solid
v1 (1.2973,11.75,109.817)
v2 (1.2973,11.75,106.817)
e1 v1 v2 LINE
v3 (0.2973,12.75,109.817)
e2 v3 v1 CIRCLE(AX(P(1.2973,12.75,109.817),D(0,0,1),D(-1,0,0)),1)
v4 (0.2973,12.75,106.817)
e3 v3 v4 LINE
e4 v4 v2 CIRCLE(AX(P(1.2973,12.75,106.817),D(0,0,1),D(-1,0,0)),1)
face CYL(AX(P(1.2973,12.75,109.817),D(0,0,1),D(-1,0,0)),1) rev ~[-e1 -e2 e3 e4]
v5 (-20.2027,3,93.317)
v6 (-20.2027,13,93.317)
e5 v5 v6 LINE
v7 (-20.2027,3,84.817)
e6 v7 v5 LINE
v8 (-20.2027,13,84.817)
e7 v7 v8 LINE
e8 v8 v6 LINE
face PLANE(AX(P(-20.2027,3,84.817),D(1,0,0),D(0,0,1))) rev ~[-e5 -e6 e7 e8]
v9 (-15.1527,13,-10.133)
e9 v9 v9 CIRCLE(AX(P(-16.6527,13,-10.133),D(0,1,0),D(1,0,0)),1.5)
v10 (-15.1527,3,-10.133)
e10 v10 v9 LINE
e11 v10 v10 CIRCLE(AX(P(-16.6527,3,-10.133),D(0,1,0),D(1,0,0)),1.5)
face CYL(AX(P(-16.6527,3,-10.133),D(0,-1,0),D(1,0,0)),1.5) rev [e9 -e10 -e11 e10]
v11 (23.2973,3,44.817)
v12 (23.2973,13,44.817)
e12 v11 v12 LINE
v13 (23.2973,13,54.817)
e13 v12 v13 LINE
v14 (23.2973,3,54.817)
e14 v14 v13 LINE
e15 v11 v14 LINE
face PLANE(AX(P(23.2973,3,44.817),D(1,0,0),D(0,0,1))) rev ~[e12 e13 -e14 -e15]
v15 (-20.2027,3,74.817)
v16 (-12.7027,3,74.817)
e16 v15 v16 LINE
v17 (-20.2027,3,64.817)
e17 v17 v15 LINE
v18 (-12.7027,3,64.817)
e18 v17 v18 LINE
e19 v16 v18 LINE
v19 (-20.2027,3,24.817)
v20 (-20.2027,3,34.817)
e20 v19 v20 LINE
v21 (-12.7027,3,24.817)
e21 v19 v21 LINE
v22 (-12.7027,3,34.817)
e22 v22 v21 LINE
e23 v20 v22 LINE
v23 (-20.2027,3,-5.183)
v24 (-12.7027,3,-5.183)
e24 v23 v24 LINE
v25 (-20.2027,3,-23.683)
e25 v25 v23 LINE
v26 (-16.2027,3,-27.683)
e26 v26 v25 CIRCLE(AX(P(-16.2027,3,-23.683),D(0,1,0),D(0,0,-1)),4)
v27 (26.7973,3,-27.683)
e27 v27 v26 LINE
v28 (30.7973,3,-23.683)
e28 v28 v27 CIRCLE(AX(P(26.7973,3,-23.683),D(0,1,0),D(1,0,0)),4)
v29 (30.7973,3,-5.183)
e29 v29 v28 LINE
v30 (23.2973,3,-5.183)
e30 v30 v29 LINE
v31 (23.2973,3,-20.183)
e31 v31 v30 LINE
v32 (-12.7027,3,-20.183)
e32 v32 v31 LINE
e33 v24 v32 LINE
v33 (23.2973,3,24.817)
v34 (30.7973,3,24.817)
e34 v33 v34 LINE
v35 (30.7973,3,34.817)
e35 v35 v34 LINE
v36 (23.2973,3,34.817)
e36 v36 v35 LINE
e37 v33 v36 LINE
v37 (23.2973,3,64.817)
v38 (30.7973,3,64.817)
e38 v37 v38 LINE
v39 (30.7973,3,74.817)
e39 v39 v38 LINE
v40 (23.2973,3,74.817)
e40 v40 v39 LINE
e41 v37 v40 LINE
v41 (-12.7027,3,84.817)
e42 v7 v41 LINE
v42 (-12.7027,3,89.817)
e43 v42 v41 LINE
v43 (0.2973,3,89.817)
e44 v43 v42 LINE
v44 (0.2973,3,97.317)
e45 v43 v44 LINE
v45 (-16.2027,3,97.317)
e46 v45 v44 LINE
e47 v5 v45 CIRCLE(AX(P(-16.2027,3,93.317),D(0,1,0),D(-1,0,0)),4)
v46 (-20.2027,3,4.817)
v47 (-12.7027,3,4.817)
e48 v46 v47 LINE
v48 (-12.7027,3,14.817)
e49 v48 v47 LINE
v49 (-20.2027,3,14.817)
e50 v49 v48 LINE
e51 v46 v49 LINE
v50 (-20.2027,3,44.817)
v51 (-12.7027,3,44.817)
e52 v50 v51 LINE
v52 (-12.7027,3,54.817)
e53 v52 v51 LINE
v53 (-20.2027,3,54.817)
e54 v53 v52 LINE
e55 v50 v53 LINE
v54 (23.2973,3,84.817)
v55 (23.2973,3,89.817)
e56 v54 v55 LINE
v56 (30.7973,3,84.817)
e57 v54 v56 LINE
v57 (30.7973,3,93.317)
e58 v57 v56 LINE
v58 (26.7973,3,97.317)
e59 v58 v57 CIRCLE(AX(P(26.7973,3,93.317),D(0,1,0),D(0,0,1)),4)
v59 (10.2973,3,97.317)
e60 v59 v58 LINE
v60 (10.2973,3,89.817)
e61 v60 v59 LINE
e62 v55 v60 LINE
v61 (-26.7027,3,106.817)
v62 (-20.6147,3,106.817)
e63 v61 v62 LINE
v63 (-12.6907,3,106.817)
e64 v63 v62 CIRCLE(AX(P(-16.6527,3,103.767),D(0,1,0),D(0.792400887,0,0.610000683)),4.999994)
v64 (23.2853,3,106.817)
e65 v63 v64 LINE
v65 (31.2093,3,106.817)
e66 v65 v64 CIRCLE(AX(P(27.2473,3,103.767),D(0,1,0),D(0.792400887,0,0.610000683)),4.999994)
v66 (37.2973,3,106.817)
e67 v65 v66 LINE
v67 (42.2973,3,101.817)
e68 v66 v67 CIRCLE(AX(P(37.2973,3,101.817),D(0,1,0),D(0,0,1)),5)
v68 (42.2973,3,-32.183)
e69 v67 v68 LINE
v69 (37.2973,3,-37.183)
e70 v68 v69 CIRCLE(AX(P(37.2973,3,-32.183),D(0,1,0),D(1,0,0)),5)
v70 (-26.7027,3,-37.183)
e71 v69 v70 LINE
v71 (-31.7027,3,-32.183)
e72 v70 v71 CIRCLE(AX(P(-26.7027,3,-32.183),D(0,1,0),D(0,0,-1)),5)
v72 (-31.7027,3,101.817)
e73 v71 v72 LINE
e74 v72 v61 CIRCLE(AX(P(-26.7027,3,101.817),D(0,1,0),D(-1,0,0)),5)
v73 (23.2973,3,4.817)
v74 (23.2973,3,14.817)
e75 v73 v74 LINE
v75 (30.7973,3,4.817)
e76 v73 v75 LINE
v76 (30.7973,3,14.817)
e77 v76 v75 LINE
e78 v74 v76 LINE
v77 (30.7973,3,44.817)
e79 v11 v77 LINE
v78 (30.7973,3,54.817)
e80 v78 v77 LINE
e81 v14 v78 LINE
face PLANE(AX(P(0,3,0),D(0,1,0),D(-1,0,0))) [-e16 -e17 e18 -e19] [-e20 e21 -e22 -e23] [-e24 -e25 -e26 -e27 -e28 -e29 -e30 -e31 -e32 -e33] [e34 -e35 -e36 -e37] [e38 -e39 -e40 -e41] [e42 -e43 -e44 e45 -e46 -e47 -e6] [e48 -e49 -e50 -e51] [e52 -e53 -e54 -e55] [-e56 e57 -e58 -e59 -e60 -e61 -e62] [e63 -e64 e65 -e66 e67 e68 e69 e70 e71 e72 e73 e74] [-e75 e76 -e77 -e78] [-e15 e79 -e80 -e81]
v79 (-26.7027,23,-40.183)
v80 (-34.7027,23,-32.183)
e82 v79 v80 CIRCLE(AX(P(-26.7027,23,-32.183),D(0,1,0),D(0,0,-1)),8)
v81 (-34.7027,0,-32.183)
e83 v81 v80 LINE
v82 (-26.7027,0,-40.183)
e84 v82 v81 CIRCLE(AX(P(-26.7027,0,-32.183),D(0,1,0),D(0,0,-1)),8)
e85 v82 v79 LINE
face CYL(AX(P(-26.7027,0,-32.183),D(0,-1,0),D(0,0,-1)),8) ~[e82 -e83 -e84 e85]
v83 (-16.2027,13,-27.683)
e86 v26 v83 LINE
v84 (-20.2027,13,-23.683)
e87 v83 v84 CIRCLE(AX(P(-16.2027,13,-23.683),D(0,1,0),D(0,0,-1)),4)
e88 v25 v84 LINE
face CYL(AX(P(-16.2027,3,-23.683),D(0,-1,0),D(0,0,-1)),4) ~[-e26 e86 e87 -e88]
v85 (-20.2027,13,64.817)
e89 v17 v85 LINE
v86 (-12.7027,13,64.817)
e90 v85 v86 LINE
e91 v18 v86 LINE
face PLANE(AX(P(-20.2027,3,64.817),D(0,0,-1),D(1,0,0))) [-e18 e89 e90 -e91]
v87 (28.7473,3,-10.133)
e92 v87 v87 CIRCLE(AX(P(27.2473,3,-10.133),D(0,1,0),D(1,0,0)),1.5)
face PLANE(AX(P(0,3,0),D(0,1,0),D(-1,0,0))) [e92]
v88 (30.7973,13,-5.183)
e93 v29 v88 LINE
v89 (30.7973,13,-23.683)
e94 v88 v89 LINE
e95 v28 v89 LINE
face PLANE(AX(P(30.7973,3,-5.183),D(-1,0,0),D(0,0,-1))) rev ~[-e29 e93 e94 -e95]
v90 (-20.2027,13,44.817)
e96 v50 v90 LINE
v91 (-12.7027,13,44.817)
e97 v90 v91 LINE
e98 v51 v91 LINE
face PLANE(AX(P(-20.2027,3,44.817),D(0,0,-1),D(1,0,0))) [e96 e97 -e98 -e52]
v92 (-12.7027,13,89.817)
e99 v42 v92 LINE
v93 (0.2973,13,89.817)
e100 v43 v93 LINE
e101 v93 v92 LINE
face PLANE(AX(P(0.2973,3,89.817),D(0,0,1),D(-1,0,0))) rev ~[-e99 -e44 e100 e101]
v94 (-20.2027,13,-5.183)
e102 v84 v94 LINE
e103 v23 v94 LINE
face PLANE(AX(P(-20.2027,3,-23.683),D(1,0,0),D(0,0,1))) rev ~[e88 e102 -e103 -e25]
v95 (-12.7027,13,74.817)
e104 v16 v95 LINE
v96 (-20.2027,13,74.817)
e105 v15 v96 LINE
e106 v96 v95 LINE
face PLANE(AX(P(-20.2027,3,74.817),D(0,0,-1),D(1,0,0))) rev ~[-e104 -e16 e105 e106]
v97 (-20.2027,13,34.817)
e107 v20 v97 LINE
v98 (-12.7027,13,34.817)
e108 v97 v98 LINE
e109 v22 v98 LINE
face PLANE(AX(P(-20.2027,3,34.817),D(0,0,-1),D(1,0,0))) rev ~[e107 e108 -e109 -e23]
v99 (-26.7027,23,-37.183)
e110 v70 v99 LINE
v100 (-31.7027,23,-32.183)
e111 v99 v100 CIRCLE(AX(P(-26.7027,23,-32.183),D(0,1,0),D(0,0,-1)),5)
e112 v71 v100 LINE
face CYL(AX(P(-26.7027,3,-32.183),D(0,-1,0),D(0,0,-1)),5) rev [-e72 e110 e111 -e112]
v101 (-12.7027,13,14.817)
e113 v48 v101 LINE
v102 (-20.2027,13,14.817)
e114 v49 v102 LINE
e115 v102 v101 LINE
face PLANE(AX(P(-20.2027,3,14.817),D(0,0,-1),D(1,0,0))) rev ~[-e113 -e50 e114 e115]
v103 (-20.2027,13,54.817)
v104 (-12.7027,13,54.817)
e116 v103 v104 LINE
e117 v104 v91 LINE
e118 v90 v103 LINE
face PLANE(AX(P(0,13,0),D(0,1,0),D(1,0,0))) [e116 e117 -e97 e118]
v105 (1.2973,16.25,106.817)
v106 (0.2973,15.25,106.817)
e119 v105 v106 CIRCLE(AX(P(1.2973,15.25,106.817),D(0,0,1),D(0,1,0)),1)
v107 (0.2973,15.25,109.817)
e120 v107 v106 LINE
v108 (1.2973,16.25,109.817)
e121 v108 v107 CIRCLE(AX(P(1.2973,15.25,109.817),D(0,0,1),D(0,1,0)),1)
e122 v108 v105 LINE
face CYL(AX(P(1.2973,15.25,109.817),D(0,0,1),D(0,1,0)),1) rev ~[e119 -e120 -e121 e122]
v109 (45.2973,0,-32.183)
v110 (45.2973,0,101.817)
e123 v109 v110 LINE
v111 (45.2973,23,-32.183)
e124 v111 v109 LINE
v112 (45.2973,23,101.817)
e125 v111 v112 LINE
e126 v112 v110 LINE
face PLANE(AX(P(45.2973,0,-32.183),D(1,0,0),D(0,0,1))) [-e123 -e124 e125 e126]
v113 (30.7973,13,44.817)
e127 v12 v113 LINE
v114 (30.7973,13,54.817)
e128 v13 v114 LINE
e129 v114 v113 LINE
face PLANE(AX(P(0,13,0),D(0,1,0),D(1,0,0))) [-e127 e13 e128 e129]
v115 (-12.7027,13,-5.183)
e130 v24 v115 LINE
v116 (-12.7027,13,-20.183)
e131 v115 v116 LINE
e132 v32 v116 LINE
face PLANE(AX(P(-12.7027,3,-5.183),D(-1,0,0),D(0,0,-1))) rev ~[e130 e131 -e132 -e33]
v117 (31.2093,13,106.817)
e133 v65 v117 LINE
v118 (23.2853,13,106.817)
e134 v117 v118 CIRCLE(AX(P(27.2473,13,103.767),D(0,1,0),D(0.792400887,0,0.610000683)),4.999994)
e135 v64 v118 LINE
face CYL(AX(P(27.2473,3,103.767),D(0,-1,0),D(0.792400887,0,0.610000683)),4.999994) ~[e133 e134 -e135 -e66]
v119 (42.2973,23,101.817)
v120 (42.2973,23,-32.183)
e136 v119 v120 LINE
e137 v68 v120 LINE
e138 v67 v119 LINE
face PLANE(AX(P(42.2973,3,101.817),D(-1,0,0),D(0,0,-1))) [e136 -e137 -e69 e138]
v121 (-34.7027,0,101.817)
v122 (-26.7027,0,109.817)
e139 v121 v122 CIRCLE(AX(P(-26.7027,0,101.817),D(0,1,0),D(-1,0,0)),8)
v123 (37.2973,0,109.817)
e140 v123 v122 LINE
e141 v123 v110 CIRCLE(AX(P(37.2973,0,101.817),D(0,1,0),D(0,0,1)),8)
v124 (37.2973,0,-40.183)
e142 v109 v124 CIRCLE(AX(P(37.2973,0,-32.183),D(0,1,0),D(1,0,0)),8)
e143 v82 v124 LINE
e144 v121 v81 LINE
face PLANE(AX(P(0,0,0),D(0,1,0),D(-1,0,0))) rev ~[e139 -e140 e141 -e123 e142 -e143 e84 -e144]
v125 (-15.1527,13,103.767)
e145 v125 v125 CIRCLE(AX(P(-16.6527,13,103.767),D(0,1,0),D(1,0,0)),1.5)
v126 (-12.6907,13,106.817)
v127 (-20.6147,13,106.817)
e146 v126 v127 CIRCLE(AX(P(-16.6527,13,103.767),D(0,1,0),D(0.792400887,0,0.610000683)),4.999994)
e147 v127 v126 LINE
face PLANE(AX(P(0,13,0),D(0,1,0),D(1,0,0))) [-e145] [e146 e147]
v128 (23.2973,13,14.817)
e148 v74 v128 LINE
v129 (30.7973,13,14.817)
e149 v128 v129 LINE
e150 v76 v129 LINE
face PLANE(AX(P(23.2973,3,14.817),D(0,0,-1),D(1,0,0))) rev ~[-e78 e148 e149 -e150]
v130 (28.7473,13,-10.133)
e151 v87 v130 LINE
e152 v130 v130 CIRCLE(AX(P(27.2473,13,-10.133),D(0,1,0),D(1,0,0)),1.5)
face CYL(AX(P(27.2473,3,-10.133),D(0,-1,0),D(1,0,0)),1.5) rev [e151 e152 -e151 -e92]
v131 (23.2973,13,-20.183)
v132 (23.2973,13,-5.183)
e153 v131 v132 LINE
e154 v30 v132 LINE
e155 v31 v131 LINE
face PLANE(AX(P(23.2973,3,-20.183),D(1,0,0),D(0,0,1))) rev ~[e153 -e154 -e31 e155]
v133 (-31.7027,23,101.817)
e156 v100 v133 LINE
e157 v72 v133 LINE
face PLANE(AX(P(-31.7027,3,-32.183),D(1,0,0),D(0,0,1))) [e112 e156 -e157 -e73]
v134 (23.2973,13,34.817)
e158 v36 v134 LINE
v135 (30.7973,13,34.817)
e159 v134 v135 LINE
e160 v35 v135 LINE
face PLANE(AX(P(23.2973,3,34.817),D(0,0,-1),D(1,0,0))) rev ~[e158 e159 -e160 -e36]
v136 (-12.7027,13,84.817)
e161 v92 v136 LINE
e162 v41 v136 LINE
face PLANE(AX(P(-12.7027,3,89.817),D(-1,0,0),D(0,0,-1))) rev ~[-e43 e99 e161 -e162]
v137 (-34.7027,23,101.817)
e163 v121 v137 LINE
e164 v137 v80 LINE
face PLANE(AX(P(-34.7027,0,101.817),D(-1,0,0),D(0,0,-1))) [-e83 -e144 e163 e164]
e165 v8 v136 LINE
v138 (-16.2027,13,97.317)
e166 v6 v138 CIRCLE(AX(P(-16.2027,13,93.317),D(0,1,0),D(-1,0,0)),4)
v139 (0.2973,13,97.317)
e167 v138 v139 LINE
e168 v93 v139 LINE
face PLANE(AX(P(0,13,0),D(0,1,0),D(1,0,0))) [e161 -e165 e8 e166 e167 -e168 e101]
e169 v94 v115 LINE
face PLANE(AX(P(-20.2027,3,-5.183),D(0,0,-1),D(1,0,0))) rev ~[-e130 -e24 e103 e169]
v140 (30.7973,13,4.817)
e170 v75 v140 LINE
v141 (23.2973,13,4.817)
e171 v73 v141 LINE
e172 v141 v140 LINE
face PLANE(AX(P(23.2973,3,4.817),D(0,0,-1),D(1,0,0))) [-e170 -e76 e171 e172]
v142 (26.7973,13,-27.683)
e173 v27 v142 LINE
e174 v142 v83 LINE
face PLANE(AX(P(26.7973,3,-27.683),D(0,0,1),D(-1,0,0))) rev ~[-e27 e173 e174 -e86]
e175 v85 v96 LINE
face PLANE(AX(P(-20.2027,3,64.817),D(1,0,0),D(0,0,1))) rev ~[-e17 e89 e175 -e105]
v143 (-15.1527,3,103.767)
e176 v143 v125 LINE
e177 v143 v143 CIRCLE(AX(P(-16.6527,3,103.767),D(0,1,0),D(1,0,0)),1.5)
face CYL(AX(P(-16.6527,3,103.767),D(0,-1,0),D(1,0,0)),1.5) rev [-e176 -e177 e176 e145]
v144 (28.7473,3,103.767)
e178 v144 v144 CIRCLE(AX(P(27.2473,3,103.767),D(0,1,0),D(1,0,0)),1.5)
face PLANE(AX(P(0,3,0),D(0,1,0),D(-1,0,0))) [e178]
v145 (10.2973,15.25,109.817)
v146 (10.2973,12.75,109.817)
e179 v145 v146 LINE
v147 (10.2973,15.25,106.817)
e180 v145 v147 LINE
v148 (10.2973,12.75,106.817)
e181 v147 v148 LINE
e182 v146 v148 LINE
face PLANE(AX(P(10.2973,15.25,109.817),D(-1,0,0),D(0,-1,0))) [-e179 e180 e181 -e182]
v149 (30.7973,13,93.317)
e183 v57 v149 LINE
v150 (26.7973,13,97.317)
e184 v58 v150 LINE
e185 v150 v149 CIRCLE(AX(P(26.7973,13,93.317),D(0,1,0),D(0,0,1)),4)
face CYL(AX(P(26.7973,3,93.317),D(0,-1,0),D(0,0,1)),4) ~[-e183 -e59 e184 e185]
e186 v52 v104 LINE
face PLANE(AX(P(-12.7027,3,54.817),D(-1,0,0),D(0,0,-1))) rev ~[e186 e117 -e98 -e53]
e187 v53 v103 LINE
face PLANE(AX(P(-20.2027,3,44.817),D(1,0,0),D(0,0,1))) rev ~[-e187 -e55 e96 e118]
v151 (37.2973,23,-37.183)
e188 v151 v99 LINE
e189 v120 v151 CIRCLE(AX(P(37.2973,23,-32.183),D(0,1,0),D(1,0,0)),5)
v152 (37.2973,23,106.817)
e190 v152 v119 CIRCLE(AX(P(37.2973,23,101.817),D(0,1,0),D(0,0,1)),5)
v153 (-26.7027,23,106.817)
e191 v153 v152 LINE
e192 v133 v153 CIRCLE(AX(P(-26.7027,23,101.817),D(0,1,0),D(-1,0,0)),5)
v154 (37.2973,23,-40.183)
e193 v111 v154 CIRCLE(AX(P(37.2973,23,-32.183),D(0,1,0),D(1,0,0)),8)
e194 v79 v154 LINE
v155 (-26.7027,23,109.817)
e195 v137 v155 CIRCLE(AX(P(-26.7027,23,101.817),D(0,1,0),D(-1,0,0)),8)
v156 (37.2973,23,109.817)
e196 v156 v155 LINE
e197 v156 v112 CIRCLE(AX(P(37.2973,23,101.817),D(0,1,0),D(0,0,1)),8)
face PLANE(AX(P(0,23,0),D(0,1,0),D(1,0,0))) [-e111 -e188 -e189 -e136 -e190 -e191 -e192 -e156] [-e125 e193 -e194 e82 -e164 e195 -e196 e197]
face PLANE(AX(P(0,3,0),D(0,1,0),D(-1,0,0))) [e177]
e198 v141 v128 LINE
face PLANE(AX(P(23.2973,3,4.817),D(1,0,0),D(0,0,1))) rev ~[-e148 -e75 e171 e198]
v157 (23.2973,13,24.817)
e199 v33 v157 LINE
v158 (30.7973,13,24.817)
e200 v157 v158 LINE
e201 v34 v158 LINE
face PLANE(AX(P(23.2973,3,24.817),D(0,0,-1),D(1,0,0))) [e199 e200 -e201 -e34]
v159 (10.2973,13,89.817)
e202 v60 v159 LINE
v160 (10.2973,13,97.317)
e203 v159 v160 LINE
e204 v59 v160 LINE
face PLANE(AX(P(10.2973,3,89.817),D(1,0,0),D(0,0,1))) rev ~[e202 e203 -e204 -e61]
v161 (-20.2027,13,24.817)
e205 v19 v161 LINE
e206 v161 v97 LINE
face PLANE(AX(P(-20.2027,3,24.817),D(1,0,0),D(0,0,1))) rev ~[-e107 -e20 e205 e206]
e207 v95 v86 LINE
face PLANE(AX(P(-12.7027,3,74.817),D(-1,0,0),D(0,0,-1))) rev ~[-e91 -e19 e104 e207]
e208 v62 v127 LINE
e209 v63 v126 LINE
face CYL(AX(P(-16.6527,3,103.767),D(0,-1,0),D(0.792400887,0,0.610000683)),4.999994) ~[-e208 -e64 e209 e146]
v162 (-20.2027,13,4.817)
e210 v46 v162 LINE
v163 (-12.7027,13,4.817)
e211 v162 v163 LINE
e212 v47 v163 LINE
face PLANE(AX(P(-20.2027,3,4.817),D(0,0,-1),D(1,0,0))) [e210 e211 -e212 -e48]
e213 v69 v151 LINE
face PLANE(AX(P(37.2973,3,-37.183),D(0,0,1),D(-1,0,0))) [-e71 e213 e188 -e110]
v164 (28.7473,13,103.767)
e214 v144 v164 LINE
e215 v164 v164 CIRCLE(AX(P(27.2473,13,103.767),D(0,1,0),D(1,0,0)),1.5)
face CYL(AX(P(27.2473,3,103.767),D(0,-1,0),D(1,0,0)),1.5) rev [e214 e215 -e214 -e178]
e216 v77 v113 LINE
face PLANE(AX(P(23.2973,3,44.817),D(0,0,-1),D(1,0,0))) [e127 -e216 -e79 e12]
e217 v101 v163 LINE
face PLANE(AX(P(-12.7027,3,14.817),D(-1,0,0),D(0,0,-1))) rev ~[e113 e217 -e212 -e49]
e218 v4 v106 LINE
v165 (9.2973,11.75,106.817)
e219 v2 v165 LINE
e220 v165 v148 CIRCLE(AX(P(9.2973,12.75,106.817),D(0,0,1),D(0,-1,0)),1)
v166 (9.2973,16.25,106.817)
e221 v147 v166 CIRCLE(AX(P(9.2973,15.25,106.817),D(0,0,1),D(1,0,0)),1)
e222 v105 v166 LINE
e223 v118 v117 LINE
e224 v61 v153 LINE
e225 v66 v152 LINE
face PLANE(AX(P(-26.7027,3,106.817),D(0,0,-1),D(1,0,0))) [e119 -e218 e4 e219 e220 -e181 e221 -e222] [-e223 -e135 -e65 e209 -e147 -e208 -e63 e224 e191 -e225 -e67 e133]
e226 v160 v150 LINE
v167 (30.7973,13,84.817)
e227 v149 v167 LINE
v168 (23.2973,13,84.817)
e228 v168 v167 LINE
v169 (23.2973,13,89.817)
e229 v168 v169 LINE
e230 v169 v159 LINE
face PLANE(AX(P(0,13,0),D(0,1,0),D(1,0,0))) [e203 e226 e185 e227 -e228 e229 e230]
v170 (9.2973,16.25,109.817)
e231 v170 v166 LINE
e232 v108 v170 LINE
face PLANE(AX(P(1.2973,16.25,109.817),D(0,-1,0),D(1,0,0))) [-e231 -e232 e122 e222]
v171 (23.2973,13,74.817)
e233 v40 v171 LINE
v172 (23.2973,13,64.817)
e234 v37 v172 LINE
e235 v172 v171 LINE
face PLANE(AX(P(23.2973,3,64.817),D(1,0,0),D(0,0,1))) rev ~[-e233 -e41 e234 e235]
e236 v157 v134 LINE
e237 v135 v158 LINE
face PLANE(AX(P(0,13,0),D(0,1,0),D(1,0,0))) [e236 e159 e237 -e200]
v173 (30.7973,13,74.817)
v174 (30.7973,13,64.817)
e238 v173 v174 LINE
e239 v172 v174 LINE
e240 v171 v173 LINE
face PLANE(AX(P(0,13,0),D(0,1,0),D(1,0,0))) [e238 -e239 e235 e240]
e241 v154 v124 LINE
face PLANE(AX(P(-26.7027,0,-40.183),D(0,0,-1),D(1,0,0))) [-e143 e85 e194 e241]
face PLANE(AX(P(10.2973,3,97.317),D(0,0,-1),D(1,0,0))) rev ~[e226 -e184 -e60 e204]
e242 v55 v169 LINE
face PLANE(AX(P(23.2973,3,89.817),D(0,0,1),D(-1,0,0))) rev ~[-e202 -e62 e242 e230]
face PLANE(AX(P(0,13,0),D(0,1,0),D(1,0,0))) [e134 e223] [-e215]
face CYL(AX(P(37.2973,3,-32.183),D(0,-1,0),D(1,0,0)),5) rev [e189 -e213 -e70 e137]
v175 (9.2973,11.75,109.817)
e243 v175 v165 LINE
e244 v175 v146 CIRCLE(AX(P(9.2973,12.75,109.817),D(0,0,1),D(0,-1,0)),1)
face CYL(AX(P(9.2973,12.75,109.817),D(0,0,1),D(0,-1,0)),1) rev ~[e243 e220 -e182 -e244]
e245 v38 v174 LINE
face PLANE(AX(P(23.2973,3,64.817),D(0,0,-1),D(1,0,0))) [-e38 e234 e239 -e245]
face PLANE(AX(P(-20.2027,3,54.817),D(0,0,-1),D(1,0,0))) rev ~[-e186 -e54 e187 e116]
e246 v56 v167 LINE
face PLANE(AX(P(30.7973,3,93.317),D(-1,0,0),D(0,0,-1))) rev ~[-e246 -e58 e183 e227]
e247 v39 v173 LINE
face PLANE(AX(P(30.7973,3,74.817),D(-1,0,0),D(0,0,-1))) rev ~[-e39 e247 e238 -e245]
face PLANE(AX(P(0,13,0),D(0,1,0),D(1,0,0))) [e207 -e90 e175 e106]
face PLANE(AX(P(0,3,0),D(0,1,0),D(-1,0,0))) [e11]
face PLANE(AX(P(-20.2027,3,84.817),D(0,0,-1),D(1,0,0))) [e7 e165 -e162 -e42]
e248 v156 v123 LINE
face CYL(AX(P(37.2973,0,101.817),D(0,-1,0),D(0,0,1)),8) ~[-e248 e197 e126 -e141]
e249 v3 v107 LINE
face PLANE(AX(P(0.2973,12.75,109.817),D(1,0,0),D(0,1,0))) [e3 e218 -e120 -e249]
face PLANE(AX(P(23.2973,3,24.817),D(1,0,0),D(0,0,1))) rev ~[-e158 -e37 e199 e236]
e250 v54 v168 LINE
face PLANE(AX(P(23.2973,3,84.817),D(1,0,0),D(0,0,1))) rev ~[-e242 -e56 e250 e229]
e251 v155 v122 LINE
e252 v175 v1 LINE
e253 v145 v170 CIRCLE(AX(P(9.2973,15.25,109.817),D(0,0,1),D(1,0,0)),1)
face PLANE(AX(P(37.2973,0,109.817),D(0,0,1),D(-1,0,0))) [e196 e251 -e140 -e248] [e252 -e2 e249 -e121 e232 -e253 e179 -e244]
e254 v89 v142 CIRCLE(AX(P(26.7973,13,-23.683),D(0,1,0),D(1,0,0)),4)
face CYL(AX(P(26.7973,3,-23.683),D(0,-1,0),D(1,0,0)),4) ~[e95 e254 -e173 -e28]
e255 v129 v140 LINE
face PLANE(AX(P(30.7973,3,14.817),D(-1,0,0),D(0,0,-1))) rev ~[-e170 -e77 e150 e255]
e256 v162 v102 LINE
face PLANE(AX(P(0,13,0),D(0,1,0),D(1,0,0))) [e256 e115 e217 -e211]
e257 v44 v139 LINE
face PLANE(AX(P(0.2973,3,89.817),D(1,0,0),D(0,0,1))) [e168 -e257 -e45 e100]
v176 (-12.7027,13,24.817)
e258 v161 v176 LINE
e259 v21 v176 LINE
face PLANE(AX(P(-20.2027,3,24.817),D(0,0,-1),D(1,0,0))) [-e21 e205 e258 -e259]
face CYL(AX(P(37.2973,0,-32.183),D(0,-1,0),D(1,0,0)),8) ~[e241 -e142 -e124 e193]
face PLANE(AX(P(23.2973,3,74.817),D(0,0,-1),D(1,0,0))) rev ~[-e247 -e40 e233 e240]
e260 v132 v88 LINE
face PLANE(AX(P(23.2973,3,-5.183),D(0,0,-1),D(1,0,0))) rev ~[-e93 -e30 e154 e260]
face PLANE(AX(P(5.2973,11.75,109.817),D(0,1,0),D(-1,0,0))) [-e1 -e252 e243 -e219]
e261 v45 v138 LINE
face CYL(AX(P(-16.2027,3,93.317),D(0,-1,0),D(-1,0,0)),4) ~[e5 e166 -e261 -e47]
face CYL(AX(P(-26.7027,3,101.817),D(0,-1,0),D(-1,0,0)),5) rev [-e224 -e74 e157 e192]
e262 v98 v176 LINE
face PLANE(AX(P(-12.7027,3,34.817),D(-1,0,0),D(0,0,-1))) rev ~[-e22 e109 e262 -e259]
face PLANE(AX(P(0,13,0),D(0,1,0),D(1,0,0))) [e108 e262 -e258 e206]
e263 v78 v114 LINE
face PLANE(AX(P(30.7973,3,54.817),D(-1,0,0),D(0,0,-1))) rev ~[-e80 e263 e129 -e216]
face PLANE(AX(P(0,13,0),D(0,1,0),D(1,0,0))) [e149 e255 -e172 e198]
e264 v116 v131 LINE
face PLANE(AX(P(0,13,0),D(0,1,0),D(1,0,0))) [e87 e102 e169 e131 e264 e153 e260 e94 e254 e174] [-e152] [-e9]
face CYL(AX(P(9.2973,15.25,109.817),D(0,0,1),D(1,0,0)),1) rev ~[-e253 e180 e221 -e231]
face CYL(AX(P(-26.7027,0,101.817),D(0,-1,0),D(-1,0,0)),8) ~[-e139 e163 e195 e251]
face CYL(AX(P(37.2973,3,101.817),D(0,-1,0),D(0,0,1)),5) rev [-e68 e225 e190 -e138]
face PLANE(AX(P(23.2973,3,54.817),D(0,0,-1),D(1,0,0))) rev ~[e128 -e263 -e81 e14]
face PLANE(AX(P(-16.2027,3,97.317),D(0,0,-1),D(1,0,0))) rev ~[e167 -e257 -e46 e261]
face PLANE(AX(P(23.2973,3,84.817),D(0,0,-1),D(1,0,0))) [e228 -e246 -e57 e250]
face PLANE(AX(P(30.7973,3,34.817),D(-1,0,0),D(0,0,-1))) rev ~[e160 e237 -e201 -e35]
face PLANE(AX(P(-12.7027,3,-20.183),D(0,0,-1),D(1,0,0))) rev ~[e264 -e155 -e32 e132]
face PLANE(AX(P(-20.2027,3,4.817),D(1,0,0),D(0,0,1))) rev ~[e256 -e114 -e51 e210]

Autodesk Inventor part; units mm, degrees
ref_plane "YZ Plane" through (0, 0, 0) normal (1, 0, 0) x (0, 1, 0)
ref_plane "XZ Plane" through (0, 0, 0) normal (0, 1, 0) x (-1, 0, 0)
ref_plane "XY Plane" through (0, 0, 0) normal (0, 0, 1) x (1, 0, 0)
sketch "Sketch1" plane through (0, 0, 0) normal (0, 1, 0) x (-1, 0, 0)
  line L0 (26.7027, -40.183) -> (-37.2973, -40.183)
  line L1 (-45.2973, -32.183) -> (-45.2973, 101.817)
  line L2 (-37.2973, 109.817) -> (26.7027, 109.817)
  line L3 (34.7027, 101.817) -> (34.7027, -32.183)
  arc A0 (26.7027, -40.183) -> (34.7027, -32.183) centre (26.7027, -32.183) ccw
  arc A1 (-45.2973, -32.183) -> (-37.2973, -40.183) centre (-37.2973, -32.183) ccw
  arc A2 (-37.2973, 109.817) -> (-45.2973, 101.817) centre (-37.2973, 101.817) ccw
  arc A3 (34.7027, 101.817) -> (26.7027, 109.817) centre (26.7027, 101.817) ccw
  point P0 (0, 0)
  point P1 (-45.2973, 109.817)
  point P2 (-45.2973, -40.183)
  point P3 (34.7027, 109.817)
  dimension "d0" = 80
  dimension "d1" = 150
  dimension "d2" = 8
extrude "Extrusion1" add sketch "Sketch1" along normal blind 3
sketch "Sketch2" plane through (0, 3, 0) normal (0, 1, 0) x (1, 0, 0)
  line L0 (-26.7027, 40.183) -> (37.2973, 40.183)
  line L1 (45.2973, 32.183) -> (45.2973, -101.817)
  line L2 (37.2973, -109.817) -> (-26.7027, -109.817)
  line L3 (-34.7027, -101.817) -> (-34.7027, 32.183)
  arc A0 (-26.7027, 40.183) -> (-34.7027, 32.183) centre (-26.7027, 32.183) ccw
  arc A1 (45.2973, 32.183) -> (37.2973, 40.183) centre (37.2973, 32.183) ccw
  arc A2 (37.2973, -109.817) -> (45.2973, -101.817) centre (37.2973, -101.817) ccw
  arc A3 (-34.7027, -101.817) -> (-26.7027, -109.817) centre (-26.7027, -101.817) ccw
  line L4 (37.2973, 37.183) -> (-26.7027, 37.183)
  arc A4 (-26.7027, 37.183) -> (-31.7027, 32.183) centre (-26.7027, 32.183) ccw
  line L5 (-31.7027, 32.183) -> (-31.7027, -101.817)
  arc A5 (-31.7027, -101.817) -> (-26.7027, -106.817) centre (-26.7027, -101.817) ccw
  line L6 (-26.7027, -106.817) -> (37.2973, -106.817)
  arc A6 (37.2973, -106.817) -> (42.2973, -101.817) centre (37.2973, -101.817) ccw
  line L7 (42.2973, -101.817) -> (42.2973, 32.183)
  arc A7 (42.2973, 32.183) -> (37.2973, 37.183) centre (37.2973, 32.183) ccw
  point P0 (0, 0)
  dimension "d5" = 8
  dimension "d6" = 3
extrude "Extrusion2" add sketch "Sketch2" along normal blind 20
sketch "Sketch3" plane through (-26.7027, 0, 109.817) normal (0, 0, 1) x (1, 0, 0)
  line L0 (64, 0) -> (0, 0) projected
  line L1 (32, 0) -> (32, 14)
  line L2 (28, 16.25) -> (36, 16.25)
  line L3 (37, 15.25) -> (37, 12.75)
  line L4 (36, 11.75) -> (28, 11.75)
  line L5 (27, 12.75) -> (27, 15.25)
  line L6 (27, 16.25) -> (37, 11.75) construction
  line L7 (37, 16.25) -> (27, 11.75) construction
  arc A0 (28, 16.25) -> (27, 15.25) centre (28, 15.25) ccw
  arc A1 (37, 15.25) -> (36, 16.25) centre (36, 15.25) ccw
  arc A2 (36, 11.75) -> (37, 12.75) centre (36, 12.75) ccw
  arc A3 (27, 12.75) -> (28, 11.75) centre (28, 12.75) ccw
  point P0 (26.7027, 0)
  dimension "d9" = 14
  dimension "d10" = 10
  dimension "d11" = 4.5
  dimension "d14" = 1
extrude "Extrusion3" cut sketch "Sketch3" against normal blind 3
sketch "Sketch4" plane through (0, 3, 0) normal (0, 1, 0) x (1, 0, 0)
  line L0 (37.2973, 37.183) -> (-26.7027, 37.183) projected
  line L1 (1.2973, -106.817) -> (9.2973, -106.817) projected
  line L2 (-31.7027, 32.183) -> (-31.7027, -101.817) projected
  line L3 (-12.7027, 20.183) -> (23.2973, 20.183)
  circle A0 centre (-16.6527, 10.133) radius 1.5
  circle A1 centre (27.2473, 10.133) radius 1.5
  circle A2 centre (-16.6527, -103.767) radius 1.5
  circle A3 centre (27.2473, -103.767) radius 1.5
  line L4 (26.7973, 27.683) -> (-16.2027, 27.683)
  arc A4 (-16.2027, 27.683) -> (-20.2027, 23.683) centre (-16.2027, 23.683) ccw
  arc A5 (30.7973, 23.683) -> (26.7973, 27.683) centre (26.7973, 23.683) ccw
  arc A6 (26.7973, -97.317) -> (30.7973, -93.317) centre (26.7973, -93.317) ccw
  arc A7 (-20.2027, -93.317) -> (-16.2027, -97.317) centre (-16.2027, -93.317) ccw
  arc A8 (-12.6907, -106.817) -> (-20.6147, -106.817) centre (-16.6527, -103.767) ccw
  line L5 (-20.6147, -106.817) -> (-12.6907, -106.817)
  line L6 (-26.7027, -109.817) -> (37.2973, -109.817) projected
  arc A9 (31.2093, -106.817) -> (23.2853, -106.817) centre (27.2473, -103.767) ccw
  line L7 (23.2853, -106.817) -> (31.2093, -106.817)
  line L8 (-20.2027, 5.183) -> (-12.7027, 5.183)
  line L9 (23.2973, 5.183) -> (30.7973, 5.183)
  line L10 (-20.2027, -4.817) -> (-12.7027, -4.817)
  line L11 (23.2973, -4.817) -> (30.7973, -4.817)
  line L12 (-20.2027, -14.817) -> (-12.7027, -14.817)
  line L13 (23.2973, -14.817) -> (30.7973, -14.817)
  line L14 (-20.2027, -24.817) -> (-12.7027, -24.817)
  line L15 (23.2973, -24.817) -> (30.7973, -24.817)
  line L16 (-20.2027, -34.817) -> (-12.7027, -34.817)
  line L17 (23.2973, -34.817) -> (30.7973, -34.817)
  line L18 (-20.2027, -44.817) -> (-12.7027, -44.817)
  line L19 (23.2973, -44.817) -> (30.7973, -44.817)
  line L20 (-20.2027, -54.817) -> (-12.7027, -54.817)
  line L21 (23.2973, -54.817) -> (30.7973, -54.817)
  line L22 (-20.2027, -64.817) -> (-12.7027, -64.817)
  line L23 (23.2973, -64.817) -> (30.7973, -64.817)
  line L24 (-20.2027, -74.817) -> (-12.7027, -74.817)
  line L25 (23.2973, -74.817) -> (30.7973, -74.817)
  line L26 (-20.2027, -84.817) -> (-12.7027, -84.817)
  line L27 (23.2973, -84.817) -> (30.7973, -84.817)
  line L28 (-12.7027, 5.183) -> (-12.7027, 20.183)
  line L29 (-20.2027, 23.683) -> (-20.2027, 5.183)
  line L30 (23.2973, 20.183) -> (23.2973, 5.183)
  line L31 (30.7973, 5.183) -> (30.7973, 23.683)
  line L32 (-12.7027, -89.817) -> (-12.7027, -84.817)
  line L33 (-20.2027, -84.817) -> (-20.2027, -93.317)
  line L34 (23.2973, -84.817) -> (23.2973, -89.817)
  line L35 (30.7973, -93.317) -> (30.7973, -84.817)
  line L36 (-12.7027, -74.817) -> (-12.7027, -64.817)
  line L37 (-20.2027, -64.817) -> (-20.2027, -74.817)
  line L38 (23.2973, -64.817) -> (23.2973, -74.817)
  line L39 (30.7973, -74.817) -> (30.7973, -64.817)
  line L40 (30.7973, -14.817) -> (30.7973, -4.817)
  line L41 (23.2973, -4.817) -> (23.2973, -14.817)
  line L42 (-12.7027, -14.817) -> (-12.7027, -4.817)
  line L43 (-20.2027, -4.817) -> (-20.2027, -14.817)
  line L44 (-20.2027, -24.817) -> (-20.2027, -34.817)
  line L45 (-20.2027, -44.817) -> (-20.2027, -54.817)
  line L46 (-12.7027, -54.817) -> (-12.7027, -44.817)
  line L47 (-12.7027, -34.817) -> (-12.7027, -24.817)
  line L48 (23.2973, -24.817) -> (23.2973, -34.817)
  line L49 (23.2973, -44.817) -> (23.2973, -54.817)
  line L50 (30.7973, -54.817) -> (30.7973, -44.817)
  line L51 (30.7973, -34.817) -> (30.7973, -24.817)
  line L52 (0.2973, -89.817) -> (0.2973, -97.317)
  line L53 (10.2973, -89.817) -> (10.2973, -97.317)
  line L54 (23.2973, -89.817) -> (10.2973, -89.817)
  line L55 (0.2973, -89.817) -> (-12.7027, -89.817)
  line L56 (-16.2027, -97.317) -> (0.2973, -97.317)
  line L57 (10.2973, -97.317) -> (26.7973, -97.317)
  point P0 (0, 0)
  dimension "d25" = 36
  dimension "d26" = 110
  dimension "d29" = 3
  dimension "d30" = 7.5
  dimension "d31" = 4
  dimension "d32" = 3.5
  dimension "d33" = 3.5
extrude "Extrusion4" add sketch "Sketch4" along normal blind 10
properties part number "csing"
